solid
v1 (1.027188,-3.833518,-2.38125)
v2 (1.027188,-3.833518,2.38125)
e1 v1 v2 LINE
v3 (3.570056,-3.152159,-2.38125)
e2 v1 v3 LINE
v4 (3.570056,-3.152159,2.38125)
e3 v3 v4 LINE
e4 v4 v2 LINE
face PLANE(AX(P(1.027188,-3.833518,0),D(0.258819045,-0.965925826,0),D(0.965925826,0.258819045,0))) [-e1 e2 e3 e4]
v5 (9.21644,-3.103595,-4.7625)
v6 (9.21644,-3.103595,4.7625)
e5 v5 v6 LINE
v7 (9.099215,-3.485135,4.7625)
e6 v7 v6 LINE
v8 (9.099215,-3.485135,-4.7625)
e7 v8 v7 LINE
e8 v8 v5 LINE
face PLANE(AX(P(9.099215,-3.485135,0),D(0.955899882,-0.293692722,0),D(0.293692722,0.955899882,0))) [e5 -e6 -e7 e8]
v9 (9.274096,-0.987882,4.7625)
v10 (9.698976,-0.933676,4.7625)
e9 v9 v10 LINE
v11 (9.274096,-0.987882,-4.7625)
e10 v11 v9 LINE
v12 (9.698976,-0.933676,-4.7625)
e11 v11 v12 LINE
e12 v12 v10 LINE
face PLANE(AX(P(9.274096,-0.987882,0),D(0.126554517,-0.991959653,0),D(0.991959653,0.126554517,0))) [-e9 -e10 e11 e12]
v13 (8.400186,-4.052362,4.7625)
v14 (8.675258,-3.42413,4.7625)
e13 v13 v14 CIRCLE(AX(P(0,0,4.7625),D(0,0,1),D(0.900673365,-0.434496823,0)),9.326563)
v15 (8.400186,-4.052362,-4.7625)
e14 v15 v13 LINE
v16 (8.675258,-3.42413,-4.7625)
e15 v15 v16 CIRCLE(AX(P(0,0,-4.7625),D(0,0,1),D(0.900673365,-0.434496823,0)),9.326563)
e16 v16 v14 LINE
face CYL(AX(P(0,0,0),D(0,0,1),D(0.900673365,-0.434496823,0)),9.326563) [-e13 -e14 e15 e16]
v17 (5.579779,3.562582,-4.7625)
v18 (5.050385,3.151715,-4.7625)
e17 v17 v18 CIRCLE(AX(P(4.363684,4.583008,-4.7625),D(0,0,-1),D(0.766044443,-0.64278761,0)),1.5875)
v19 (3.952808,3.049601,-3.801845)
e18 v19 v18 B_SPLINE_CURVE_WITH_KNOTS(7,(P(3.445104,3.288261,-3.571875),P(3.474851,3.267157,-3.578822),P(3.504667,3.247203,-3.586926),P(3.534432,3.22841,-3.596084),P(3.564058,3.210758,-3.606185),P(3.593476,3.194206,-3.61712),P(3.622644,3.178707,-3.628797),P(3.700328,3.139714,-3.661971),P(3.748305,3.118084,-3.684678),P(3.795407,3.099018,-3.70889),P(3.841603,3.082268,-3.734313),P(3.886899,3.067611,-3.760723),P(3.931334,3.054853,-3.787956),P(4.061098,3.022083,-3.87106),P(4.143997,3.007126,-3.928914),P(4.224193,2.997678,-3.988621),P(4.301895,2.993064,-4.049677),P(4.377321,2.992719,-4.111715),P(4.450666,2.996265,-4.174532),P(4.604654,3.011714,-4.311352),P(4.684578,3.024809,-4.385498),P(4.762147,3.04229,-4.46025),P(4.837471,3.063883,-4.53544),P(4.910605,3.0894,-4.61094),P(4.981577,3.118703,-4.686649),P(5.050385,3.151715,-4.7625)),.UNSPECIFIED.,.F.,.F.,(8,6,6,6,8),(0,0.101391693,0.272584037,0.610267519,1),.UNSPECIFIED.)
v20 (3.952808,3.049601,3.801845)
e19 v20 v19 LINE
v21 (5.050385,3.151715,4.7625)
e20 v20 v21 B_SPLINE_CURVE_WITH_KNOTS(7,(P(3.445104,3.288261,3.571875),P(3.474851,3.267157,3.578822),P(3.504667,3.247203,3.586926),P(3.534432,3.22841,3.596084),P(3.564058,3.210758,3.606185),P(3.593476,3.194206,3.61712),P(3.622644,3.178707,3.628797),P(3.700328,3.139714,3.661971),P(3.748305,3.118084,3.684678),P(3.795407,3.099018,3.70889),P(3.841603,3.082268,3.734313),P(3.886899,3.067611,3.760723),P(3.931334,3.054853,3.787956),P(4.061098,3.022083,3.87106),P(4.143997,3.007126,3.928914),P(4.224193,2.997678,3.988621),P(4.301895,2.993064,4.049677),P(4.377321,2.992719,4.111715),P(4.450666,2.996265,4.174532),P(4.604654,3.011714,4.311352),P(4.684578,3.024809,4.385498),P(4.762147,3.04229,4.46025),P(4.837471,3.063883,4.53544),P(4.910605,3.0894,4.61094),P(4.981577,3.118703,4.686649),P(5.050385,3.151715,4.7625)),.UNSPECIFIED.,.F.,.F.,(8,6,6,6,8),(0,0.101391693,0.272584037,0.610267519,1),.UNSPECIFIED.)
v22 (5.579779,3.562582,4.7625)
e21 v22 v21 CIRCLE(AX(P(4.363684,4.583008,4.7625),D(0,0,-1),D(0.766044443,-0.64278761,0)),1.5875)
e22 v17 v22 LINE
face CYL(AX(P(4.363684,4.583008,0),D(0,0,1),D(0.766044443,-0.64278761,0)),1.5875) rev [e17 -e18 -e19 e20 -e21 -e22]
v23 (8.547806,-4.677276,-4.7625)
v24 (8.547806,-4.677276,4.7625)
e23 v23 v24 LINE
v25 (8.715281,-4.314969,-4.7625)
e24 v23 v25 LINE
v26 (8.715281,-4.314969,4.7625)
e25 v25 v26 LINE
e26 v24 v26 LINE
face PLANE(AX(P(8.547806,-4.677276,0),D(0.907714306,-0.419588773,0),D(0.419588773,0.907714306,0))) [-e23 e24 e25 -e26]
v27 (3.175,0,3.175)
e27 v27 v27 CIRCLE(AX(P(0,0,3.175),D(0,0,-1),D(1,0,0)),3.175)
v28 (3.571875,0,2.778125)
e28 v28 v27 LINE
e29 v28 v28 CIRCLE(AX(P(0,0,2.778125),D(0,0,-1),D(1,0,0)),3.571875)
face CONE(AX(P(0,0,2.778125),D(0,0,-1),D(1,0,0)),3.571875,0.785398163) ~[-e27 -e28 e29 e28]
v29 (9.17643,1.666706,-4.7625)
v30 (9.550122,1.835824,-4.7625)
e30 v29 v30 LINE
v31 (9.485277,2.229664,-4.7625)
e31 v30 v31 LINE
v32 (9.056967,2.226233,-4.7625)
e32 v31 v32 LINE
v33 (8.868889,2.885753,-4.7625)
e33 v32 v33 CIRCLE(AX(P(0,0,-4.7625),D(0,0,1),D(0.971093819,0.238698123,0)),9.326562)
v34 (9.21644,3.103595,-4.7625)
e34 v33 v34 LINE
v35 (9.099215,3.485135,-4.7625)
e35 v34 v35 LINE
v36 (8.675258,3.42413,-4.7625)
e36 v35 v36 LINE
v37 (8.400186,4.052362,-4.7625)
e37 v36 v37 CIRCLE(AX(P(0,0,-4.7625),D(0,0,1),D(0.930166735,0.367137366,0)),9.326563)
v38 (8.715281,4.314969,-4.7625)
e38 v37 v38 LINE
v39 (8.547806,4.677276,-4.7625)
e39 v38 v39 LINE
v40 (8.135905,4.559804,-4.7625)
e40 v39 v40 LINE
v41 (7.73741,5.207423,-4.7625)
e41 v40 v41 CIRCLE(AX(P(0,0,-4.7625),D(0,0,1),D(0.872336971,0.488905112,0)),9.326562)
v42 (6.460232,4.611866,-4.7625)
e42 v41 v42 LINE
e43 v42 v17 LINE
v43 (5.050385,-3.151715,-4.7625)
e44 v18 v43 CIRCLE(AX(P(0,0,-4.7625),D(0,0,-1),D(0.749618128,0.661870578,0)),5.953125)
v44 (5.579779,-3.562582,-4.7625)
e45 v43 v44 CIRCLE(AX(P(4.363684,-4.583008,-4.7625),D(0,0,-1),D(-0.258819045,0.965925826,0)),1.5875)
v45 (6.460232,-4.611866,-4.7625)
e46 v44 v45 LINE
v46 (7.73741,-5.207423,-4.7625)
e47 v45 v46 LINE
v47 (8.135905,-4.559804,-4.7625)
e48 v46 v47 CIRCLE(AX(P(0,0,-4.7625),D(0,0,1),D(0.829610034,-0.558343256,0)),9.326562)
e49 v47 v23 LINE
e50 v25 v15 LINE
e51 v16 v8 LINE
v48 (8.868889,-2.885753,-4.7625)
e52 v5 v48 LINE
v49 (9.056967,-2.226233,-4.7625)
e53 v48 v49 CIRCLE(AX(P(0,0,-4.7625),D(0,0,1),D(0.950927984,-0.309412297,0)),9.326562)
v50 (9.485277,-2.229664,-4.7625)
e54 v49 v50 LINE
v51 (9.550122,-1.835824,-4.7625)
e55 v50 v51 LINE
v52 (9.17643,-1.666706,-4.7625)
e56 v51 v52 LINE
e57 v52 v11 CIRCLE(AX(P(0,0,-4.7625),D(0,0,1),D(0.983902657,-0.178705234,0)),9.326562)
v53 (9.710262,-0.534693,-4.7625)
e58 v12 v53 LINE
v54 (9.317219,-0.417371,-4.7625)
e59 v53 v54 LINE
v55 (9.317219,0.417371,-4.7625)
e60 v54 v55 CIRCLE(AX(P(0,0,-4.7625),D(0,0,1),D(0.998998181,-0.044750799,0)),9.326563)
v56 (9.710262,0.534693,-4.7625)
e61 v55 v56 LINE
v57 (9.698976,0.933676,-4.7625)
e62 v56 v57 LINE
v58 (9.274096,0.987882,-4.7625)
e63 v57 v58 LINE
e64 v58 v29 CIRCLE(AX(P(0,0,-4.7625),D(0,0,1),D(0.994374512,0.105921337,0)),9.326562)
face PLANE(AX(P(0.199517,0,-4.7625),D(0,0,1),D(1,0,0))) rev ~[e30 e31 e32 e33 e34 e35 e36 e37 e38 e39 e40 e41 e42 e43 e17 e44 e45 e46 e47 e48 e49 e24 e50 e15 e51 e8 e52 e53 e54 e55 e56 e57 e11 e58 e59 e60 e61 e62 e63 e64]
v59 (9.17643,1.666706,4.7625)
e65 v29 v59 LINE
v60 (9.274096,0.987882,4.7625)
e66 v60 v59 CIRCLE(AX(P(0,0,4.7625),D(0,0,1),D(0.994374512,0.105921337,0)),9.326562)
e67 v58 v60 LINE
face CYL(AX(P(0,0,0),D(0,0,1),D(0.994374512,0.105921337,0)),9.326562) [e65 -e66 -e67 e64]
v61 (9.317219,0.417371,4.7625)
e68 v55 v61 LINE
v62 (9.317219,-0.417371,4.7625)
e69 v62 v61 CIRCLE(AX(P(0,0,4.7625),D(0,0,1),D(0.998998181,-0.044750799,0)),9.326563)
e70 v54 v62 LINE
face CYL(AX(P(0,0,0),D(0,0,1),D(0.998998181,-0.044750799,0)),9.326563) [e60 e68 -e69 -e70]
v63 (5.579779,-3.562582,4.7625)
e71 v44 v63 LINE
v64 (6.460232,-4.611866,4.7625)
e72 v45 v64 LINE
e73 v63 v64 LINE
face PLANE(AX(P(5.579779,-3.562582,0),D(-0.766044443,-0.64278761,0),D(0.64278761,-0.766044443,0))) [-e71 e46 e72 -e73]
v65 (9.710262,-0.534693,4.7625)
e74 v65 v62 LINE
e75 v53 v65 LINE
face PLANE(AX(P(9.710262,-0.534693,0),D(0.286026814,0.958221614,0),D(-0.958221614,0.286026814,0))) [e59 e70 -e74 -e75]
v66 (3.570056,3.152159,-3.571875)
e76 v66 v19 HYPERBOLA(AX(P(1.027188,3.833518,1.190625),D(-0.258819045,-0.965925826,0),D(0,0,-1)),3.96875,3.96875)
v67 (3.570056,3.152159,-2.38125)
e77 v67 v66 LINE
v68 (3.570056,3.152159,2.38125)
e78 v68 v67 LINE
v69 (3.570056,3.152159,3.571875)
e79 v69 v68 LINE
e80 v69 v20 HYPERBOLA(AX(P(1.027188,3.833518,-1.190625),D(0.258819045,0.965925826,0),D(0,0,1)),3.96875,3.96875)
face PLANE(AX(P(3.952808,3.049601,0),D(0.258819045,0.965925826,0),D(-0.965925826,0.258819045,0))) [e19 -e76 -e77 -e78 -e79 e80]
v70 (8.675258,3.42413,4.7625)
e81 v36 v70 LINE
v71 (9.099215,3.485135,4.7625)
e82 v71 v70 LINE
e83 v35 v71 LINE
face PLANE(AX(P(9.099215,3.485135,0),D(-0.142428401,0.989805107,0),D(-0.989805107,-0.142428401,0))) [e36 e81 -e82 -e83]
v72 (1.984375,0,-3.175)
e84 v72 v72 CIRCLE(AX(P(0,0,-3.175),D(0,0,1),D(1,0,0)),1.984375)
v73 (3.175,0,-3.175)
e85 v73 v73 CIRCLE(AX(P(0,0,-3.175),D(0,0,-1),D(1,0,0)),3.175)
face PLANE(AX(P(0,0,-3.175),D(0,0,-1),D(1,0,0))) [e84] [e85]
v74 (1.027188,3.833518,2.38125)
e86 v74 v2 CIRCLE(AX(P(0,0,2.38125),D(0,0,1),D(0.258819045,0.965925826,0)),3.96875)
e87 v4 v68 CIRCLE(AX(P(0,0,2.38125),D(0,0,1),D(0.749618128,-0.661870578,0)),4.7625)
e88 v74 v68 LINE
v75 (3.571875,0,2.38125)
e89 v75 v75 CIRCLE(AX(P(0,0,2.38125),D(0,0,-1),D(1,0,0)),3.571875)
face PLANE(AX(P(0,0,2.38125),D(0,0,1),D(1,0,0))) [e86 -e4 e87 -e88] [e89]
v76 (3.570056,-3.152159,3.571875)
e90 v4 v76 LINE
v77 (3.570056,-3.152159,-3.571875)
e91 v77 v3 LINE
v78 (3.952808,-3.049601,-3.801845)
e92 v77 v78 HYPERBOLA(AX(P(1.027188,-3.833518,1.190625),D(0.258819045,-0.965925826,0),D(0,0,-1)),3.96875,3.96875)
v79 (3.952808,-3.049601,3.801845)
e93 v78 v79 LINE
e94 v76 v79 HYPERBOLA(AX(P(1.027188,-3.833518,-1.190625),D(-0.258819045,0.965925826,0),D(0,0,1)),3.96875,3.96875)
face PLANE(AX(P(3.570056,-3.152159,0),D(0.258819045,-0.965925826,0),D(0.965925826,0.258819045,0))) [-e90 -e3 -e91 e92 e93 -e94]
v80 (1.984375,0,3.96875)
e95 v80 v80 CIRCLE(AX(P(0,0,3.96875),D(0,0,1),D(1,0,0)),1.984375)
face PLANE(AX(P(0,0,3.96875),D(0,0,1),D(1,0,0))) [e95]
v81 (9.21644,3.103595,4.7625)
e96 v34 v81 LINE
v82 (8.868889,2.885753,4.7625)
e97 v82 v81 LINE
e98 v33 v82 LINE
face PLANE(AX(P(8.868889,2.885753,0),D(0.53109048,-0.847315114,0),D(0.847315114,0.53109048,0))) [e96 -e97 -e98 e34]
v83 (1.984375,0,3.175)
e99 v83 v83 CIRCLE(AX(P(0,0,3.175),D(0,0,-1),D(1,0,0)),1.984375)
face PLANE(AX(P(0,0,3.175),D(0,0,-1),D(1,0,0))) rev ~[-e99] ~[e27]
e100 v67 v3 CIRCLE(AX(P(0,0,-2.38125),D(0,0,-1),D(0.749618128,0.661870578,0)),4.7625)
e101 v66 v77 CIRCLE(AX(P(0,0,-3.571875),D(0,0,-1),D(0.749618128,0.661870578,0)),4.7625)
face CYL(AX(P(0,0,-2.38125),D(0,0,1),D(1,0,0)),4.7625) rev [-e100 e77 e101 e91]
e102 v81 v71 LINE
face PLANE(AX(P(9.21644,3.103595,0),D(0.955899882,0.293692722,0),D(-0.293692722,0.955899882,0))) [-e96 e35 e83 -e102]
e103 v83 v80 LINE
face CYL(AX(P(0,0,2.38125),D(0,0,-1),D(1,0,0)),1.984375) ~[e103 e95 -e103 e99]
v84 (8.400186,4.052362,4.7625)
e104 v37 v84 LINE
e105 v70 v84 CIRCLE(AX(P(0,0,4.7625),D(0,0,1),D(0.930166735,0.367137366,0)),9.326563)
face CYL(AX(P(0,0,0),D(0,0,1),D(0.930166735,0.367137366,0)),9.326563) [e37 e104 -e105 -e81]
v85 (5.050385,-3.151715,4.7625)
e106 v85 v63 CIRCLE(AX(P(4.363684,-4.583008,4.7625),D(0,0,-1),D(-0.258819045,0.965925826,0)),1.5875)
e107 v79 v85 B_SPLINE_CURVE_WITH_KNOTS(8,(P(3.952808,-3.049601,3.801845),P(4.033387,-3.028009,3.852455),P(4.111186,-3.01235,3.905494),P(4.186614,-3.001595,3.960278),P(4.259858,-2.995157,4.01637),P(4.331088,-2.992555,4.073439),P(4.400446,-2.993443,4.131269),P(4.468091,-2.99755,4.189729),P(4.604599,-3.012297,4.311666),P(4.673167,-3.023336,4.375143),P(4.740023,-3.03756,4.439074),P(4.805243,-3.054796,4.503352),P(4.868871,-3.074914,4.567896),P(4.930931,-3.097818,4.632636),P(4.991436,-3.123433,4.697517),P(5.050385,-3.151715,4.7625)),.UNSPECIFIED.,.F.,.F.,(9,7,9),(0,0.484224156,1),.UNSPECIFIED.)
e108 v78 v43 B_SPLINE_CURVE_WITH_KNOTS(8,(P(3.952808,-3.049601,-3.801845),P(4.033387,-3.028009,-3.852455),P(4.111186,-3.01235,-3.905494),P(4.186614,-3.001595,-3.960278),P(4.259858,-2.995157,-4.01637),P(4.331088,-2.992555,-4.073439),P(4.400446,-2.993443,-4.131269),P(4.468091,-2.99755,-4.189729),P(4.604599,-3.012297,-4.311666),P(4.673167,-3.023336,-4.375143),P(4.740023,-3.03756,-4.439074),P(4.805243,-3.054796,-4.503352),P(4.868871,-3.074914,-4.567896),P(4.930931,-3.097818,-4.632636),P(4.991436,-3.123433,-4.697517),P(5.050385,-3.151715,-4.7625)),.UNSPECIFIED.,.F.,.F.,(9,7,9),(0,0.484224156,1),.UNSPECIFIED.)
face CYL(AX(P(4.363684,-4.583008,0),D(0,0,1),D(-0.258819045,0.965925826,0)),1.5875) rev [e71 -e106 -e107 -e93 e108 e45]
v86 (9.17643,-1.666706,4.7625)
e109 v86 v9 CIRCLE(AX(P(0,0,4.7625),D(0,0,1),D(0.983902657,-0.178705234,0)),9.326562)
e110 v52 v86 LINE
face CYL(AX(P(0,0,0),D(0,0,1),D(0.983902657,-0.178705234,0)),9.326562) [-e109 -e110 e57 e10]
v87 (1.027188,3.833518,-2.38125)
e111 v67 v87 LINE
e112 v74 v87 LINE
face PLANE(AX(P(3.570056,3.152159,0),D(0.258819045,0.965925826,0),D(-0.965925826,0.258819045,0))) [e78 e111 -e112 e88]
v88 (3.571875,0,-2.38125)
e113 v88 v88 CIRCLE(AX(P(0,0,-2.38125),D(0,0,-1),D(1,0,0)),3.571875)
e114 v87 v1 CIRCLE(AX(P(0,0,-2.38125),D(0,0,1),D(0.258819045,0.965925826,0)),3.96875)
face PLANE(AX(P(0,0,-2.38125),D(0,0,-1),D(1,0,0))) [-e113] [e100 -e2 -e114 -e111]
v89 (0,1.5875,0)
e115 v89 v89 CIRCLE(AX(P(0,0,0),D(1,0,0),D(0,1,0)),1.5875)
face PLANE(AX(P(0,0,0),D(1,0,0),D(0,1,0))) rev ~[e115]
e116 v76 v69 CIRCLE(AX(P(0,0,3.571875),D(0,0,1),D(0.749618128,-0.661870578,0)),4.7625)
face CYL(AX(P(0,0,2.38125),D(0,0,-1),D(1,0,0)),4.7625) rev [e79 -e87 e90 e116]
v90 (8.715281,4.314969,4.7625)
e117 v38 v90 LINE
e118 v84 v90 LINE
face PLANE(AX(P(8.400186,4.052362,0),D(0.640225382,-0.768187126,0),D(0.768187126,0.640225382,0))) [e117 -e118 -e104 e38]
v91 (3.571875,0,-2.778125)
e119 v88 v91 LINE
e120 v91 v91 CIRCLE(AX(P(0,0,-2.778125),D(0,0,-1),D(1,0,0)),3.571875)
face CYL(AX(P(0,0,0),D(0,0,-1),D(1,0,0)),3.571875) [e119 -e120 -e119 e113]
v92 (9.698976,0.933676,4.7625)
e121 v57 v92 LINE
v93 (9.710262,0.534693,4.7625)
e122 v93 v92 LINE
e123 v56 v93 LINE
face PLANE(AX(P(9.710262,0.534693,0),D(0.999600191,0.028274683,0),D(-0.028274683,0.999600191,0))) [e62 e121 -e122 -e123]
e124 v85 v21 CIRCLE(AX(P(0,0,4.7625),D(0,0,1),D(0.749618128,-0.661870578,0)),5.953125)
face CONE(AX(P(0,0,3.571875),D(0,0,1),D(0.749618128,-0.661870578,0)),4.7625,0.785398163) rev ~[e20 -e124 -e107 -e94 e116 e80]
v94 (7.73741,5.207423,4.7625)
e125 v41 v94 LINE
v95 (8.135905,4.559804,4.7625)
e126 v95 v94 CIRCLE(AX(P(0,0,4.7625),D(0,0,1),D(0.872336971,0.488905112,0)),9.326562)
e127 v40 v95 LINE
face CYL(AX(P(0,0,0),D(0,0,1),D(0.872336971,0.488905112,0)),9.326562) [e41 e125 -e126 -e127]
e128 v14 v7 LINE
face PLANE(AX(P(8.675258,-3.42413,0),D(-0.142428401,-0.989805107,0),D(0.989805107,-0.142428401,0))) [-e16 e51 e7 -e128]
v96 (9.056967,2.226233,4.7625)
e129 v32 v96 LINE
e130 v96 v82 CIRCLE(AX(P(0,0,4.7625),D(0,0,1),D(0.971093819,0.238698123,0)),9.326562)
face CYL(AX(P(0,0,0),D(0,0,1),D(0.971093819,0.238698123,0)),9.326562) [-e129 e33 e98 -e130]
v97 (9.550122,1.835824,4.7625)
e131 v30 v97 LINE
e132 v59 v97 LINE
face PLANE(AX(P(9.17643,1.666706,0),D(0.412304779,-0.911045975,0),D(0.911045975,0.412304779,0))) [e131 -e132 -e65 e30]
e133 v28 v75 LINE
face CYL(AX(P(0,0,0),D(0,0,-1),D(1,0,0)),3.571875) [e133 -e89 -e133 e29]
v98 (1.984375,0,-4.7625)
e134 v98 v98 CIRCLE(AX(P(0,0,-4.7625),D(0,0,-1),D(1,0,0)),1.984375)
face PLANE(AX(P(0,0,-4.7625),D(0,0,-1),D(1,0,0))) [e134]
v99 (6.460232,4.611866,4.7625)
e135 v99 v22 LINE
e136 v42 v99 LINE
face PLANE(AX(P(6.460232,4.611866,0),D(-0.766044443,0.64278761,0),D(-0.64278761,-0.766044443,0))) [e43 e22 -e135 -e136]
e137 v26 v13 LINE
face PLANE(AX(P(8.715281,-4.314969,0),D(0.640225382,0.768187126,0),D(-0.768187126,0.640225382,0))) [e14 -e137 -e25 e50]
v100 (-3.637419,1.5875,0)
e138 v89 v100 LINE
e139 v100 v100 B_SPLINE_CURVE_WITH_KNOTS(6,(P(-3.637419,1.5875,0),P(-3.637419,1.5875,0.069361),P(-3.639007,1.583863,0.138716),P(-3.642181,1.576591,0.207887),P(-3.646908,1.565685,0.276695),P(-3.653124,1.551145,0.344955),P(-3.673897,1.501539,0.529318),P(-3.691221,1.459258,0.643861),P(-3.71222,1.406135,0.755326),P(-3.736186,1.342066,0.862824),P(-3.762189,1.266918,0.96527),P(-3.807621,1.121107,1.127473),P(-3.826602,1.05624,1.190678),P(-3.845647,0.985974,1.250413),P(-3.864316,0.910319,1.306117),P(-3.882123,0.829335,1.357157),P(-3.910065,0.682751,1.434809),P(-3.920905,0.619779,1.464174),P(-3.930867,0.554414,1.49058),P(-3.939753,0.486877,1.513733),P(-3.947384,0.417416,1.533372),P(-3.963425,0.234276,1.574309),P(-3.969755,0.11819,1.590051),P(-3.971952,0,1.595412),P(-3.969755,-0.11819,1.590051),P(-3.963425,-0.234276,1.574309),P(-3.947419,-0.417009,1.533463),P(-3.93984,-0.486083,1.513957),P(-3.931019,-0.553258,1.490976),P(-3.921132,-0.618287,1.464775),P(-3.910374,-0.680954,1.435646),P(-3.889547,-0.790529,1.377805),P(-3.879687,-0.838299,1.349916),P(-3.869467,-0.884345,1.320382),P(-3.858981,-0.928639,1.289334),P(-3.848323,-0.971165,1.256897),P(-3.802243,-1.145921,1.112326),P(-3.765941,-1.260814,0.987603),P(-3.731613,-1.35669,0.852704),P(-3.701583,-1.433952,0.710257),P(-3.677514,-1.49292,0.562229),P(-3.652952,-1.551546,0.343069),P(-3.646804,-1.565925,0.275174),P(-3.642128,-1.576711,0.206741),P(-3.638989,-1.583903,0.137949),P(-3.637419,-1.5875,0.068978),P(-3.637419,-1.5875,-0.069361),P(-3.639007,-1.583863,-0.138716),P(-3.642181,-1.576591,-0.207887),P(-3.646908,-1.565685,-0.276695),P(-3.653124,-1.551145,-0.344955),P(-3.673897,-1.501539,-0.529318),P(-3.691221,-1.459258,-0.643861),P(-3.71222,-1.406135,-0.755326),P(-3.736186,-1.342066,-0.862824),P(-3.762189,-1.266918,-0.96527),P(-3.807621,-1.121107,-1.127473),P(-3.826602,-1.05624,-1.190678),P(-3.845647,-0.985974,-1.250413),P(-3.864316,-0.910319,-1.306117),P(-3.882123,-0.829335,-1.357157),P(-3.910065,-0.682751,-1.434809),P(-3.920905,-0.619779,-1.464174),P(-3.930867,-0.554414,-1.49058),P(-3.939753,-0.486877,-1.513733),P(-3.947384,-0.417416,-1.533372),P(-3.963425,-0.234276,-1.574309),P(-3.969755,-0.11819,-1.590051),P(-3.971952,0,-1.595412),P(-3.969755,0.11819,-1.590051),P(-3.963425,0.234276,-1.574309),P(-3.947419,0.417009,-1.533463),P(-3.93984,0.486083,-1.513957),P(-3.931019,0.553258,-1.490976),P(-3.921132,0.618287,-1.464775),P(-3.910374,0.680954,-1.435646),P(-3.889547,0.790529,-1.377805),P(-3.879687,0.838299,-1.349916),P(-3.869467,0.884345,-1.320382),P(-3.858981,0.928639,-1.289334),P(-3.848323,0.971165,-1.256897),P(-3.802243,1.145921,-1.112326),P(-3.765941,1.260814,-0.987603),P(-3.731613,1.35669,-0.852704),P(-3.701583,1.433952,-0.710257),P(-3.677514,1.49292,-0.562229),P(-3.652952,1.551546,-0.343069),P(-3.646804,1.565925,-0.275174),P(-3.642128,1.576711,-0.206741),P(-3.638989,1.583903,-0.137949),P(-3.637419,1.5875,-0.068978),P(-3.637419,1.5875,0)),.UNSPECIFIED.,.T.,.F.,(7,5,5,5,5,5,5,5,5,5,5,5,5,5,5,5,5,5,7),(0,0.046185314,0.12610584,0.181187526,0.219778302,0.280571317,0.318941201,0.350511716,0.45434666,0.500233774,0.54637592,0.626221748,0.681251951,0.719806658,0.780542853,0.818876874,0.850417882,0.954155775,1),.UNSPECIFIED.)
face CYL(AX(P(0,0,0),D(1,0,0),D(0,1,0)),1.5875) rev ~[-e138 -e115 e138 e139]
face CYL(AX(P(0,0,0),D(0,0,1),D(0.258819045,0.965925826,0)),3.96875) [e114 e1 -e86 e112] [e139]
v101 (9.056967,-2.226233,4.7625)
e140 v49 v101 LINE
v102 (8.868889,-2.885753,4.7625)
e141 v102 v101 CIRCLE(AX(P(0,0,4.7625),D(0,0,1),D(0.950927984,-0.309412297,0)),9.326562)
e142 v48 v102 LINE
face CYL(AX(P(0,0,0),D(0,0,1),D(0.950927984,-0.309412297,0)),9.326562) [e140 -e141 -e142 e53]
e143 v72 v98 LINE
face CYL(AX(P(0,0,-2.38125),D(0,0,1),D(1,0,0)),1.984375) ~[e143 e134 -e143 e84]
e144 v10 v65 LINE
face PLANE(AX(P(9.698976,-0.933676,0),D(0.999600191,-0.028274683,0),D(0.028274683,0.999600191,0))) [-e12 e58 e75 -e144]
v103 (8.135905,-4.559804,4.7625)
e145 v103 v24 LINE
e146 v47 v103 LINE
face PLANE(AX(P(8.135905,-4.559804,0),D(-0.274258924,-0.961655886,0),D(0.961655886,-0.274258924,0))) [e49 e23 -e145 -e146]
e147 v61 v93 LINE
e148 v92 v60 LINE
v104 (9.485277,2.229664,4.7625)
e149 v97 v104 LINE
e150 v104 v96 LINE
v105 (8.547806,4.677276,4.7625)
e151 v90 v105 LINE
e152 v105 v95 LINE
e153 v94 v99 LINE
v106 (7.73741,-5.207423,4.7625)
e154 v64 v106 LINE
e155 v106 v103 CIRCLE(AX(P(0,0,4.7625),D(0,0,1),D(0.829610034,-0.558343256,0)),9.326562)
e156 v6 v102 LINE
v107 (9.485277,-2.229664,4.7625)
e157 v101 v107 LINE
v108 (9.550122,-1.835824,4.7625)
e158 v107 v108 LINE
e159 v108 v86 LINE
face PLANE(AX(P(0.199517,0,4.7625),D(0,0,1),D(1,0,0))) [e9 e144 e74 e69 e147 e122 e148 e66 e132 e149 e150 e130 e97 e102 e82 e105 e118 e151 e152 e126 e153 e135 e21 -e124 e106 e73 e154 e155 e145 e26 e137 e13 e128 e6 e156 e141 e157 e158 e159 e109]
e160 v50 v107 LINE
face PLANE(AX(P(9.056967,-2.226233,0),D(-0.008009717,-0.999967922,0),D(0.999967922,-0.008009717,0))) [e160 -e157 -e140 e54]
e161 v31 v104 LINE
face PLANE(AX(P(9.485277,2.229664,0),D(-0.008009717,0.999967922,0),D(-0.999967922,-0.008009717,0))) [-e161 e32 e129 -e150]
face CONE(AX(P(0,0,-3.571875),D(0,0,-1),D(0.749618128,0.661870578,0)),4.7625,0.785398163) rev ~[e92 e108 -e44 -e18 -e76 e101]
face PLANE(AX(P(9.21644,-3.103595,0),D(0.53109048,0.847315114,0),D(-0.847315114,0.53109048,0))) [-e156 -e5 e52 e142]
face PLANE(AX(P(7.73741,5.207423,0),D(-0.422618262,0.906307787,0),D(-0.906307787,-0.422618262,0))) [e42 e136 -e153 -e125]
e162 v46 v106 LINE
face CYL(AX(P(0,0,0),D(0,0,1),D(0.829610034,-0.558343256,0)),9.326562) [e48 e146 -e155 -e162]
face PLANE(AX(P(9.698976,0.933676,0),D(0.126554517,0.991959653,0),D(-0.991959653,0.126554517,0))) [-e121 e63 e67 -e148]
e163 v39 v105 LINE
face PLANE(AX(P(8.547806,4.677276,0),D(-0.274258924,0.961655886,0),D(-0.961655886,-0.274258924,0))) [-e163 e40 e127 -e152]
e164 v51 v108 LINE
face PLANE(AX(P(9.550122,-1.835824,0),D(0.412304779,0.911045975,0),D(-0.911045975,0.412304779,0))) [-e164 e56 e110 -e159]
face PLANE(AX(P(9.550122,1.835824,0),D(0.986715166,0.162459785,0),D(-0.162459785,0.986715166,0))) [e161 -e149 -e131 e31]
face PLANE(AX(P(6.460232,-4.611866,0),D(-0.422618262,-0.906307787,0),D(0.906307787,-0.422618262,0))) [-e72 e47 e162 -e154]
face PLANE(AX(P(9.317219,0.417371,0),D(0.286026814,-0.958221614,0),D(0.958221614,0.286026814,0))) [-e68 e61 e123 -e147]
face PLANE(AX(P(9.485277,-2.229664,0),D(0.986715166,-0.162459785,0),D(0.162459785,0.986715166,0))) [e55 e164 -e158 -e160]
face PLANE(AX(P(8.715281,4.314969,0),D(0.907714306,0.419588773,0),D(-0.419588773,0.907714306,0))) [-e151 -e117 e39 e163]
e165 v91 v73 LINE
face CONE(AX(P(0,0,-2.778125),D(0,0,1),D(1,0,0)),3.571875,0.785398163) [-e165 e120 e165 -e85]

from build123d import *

# Parameters (mm, degrees)
F0_R      = 3.571875
F0_R_2    = 1.984375
F1_DEPTH  = 4.7625
F3_R      = 4.7625
F4_DEPTH  = 6.35
F7_R      = 4.7625
F8_DEPTH  = 4.29937
F9_R      = 3.571875
F10_DEPTH = 3.175
F11_R     = 1.984375
F12_DEPTH = 1.5875
F13_R     = 1.984375
F14_DEPTH = 2.38125
F15_R     = 1.5875
F16_DEPTH = 8.64375
F17_SIZE2 = 1.190625
F17_SIZE  = 1.190625
F18_SIZE2 = 1.190625
F18_SIZE  = 1.190625
F19_SIZE2 = 0.396875
F19_SIZE  = 0.396875
F20_SIZE2 = 0.396875
F20_SIZE  = 0.396875


with BuildPart() as f1:
    # F0 (on Top) → F1 (new body, symmetric)
    with BuildSketch(Plane.XY):
        with BuildLine():
            ThreePointArc((1.0271880853, 3.8335181231), (-3.96875, 0), (1.0271880853, -3.8335181231))
            ThreePointArc((1.0271880853, -3.8335181231), (3.1486210693, -2.4160219214), (3.96875, 0))
            ThreePointArc((3.96875, 0), (3.1486210693, 2.4160219214), (1.0271880853, 3.8335181231))
        make_face()
        Circle(F0_R, mode=Mode.SUBTRACT)
        Circle(F0_R)
        Circle(F0_R_2, mode=Mode.SUBTRACT)
        with BuildLine():
            ThreePointArc((3.5700563335, 3.1521586295), (4.7625, 0), (3.5700563335, -3.1521586295))
            Line((3.5700563335, -3.1521586295), (3.952808412, -3.0496005192))
            ThreePointArc((3.952808412, -3.0496005192), (4.8410541028, -3.0689821091), (5.5797791996, -3.562582438))
            Line((5.5797791996, -3.562582438), (6.4602323301, -4.6118656194))
            ThreePointArc((6.4602323301, -4.6118656194), (7.9375, 0), (6.4602323301, 4.6118656194))
            Line((6.4602323301, 4.6118656194), (5.5797791996, 3.562582438))
            ThreePointArc((5.5797791996, 3.562582438), (4.8410541028, 3.0689821091), (3.952808412, 3.0496005192))
            Line((3.952808412, 3.0496005192), (3.5700563335, 3.1521586295))
        make_face()
        with BuildLine():
            ThreePointArc((6.4602323301, 4.6118656194), (7.9375, 0), (6.4602323301, -4.6118656194))
            Line((6.4602323301, -4.6118656194), (7.7374098345, -5.2074232706))
            ThreePointArc((7.7374098345, -5.2074232706), (7.9432604057, -4.8876765639), (8.1359052848, -4.5598040816))
            ThreePointArc((8.1359052848, -4.5598040816), (8.2719379074, -4.3081099477), (8.4001864325, -4.0523617762))
            ThreePointArc((8.4001864325, -4.0523617762), (8.5434987657, -3.7407749072), (8.6752581872, -3.4241295905))
            ThreePointArc((8.6752581872, -3.4241295905), (8.7762030429, -3.1564264946), (8.8688892752, -2.8857531236))
            ThreePointArc((8.8688892752, -2.8857531236), (8.9689923796, -2.5577223777), (9.0569672002, -2.226232962))
            ThreePointArc((9.0569672002, -2.226232962), (9.1209899529, -1.9473855153), (9.1764296292, -1.6667055307))
            ThreePointArc((9.1764296292, -1.6667055307), (9.2315044647, -1.3281917728), (9.2740960354, -0.987881973))
            ThreePointArc((9.2740960354, -0.987881973), (9.3000332851, -0.7029572979), (9.3172189742, -0.4173711225))
            ThreePointArc((9.3172189742, -0.4173711225), (9.3265625, 0), (9.3172189742, 0.4173711225))
            ThreePointArc((9.3172189742, 0.4173711225), (9.3000332851, 0.7029572979), (9.2740960354, 0.987881973))
            ThreePointArc((9.2740960354, 0.987881973), (9.2315044647, 1.3281917728), (9.1764296292, 1.6667055307))
            ThreePointArc((9.1764296292, 1.6667055307), (9.1209899529, 1.9473855153), (9.0569672002, 2.226232962))
            ThreePointArc((9.0569672002, 2.226232962), (8.9689923796, 2.5577223777), (8.8688892752, 2.8857531236))
            ThreePointArc((8.8688892752, 2.8857531236), (8.7762030429, 3.1564264946), (8.6752581872, 3.4241295905))
            ThreePointArc((8.6752581872, 3.4241295905), (8.5434987657, 3.7407749072), (8.4001864325, 4.0523617762))
            ThreePointArc((8.4001864325, 4.0523617762), (8.2719379074, 4.3081099477), (8.1359052848, 4.5598040816))
            ThreePointArc((8.1359052848, 4.5598040816), (7.9432604057, 4.8876765639), (7.7374098345, 5.2074232706))
            Line((7.7374098345, 5.2074232706), (6.4602323301, 4.6118656194))
        make_face()
        Circle(F0_R_2)
        with BuildLine():
            Line((1.0271880853, -3.8335181231), (3.5700563335, -3.1521586295))
            ThreePointArc((3.5700563335, -3.1521586295), (4.7625, 0), (3.5700563335, 3.1521586295))
            Line((3.5700563335, 3.1521586295), (1.0271880853, 3.8335181231))
            ThreePointArc((1.0271880853, 3.8335181231), (3.1486210693, 2.4160219214), (3.96875, 0))
            ThreePointArc((3.96875, 0), (3.1486210693, -2.4160219214), (1.0271880853, -3.8335181231))
        make_face()
        with BuildLine():
            ThreePointArc((8.4001864325, -4.0523617762), (8.2719379074, -4.3081099477), (8.1359052848, -4.5598040816))
            Line((8.1359052848, -4.5598040816), (8.5478055324, -4.6772757471))
            Line((8.5478055324, -4.6772757471), (8.7152809502, -4.3149690254))
            Line((8.7152809502, -4.3149690254), (8.4001864325, -4.0523617762))
        make_face()
        with BuildLine():
            ThreePointArc((8.8688892752, -2.8857531236), (8.7762030429, -3.1564264946), (8.6752581872, -3.4241295905))
            Line((8.6752581872, -3.4241295905), (9.0992154205, -3.4851350856))
            Line((9.0992154205, -3.4851350856), (9.216440462, -3.1035954864))
            Line((9.216440462, -3.1035954864), (8.8688892752, -2.8857531236))
        make_face()
        with BuildLine():
            ThreePointArc((9.1764296292, -1.6667055307), (9.1209899529, -1.9473855153), (9.0569672002, -2.226232962))
            Line((9.0569672002, -2.226232962), (9.4852774103, -2.2296637155))
            Line((9.4852774103, -2.2296637155), (9.5501219011, -1.8358244486))
            Line((9.5501219011, -1.8358244486), (9.1764296292, -1.6667055307))
        make_face()
        with BuildLine():
            ThreePointArc((9.3172189742, -0.4173711225), (9.3000332851, -0.7029572979), (9.2740960354, -0.987881973))
            Line((9.2740960354, -0.987881973), (9.6989761124, -0.9336756422))
            Line((9.6989761124, -0.9336756422), (9.7102617202, -0.5346934231))
            Line((9.7102617202, -0.5346934231), (9.3172189742, -0.4173711225))
        make_face()
        with BuildLine():
            Line((9.6989761124, 0.9336756422), (9.2740960354, 0.987881973))
            ThreePointArc((9.2740960354, 0.987881973), (9.3000332851, 0.7029572979), (9.3172189742, 0.4173711225))
            Line((9.3172189742, 0.4173711225), (9.7102617202, 0.5346934231))
            Line((9.7102617202, 0.5346934231), (9.6989761124, 0.9336756422))
        make_face()
        with BuildLine():
            Line((9.4852774103, 2.2296637155), (9.0569672002, 2.226232962))
            ThreePointArc((9.0569672002, 2.226232962), (9.1209899529, 1.9473855153), (9.1764296292, 1.6667055307))
            Line((9.1764296292, 1.6667055307), (9.5501219011, 1.8358244486))
            Line((9.5501219011, 1.8358244486), (9.4852774103, 2.2296637155))
        make_face()
        with BuildLine():
            Line((9.0992154205, 3.4851350856), (8.6752581872, 3.4241295905))
            ThreePointArc((8.6752581872, 3.4241295905), (8.7762030429, 3.1564264946), (8.8688892752, 2.8857531236))
            Line((8.8688892752, 2.8857531236), (9.216440462, 3.1035954864))
            Line((9.216440462, 3.1035954864), (9.0992154205, 3.4851350856))
        make_face()
        with BuildLine():
            Line((8.5478055324, 4.6772757471), (8.1359052848, 4.5598040816))
            ThreePointArc((8.1359052848, 4.5598040816), (8.2719379074, 4.3081099477), (8.4001864325, 4.0523617762))
            Line((8.4001864325, 4.0523617762), (8.7152809502, 4.3149690254))
            Line((8.7152809502, 4.3149690254), (8.5478055324, 4.6772757471))
        make_face()
    extrude(amount=F1_DEPTH, both=True)

    # F3 (on offset) → F4 (cut)
    with BuildSketch(Plane.XY.offset(2.38125)):
        Circle(F3_R)
    extrude(amount=F4_DEPTH, mode=Mode.SUBTRACT)

    # F7 (on offset) → F8 (cut)
    with BuildSketch(Plane(origin=(0, 0, -2.38125), x_dir=(1, 0, 0), z_dir=(0, 0, -1))):
        Circle(F7_R)
    extrude(amount=F8_DEPTH, mode=Mode.SUBTRACT)

    # F9 (on offset) → F10 (join, symmetric)
    with BuildSketch(Plane(origin=(0, 0, 0), x_dir=(1, 0, 0), z_dir=(0, 0, -1))):
        Circle(F9_R)
    extrude(amount=F10_DEPTH, both=True)

    # F11 (on offset) → F12 (join)
    with BuildSketch(Plane.XY.offset(2.38125)):
        Circle(F11_R)
    extrude(amount=F12_DEPTH)

    # F13 (on offset) → F14 (join)
    with BuildSketch(Plane(origin=(0, 0, -2.38125), x_dir=(1, 0, 0), z_dir=(0, 0, -1))):
        Circle(F13_R)
    extrude(amount=F14_DEPTH)

    # F15 (on Right) → F16 (cut)
    with BuildSketch(Plane.YZ):
        Circle(F15_R)
    extrude(amount=-F16_DEPTH, mode=Mode.SUBTRACT)

    # F17
    f17_edges = [f1.edges().sort_by_distance(p)[0] for p in [
        (4.7625, 0, 4.7625),
    ]]
    chamfer(f17_edges, length=F17_SIZE, length2=F17_SIZE2)

    # F18
    f18_edges = [f1.edges().sort_by_distance(p)[0] for p in [
        (4.7625, 0, -4.7625),
    ]]
    chamfer(f18_edges, length=F18_SIZE, length2=F18_SIZE2)

    # F19
    f19_edges = [f1.edges().sort_by_distance(p)[0] for p in [
        (-3.571875, 0, 3.175),
    ]]
    chamfer(f19_edges, length=F19_SIZE, length2=F19_SIZE2)

    # F20
    f20_edges = [f1.edges().sort_by_distance(p)[0] for p in [
        (-3.571875, 0, -3.175),
    ]]
    chamfer(f20_edges, length=F20_SIZE, length2=F20_SIZE2)


solid = f1.part
